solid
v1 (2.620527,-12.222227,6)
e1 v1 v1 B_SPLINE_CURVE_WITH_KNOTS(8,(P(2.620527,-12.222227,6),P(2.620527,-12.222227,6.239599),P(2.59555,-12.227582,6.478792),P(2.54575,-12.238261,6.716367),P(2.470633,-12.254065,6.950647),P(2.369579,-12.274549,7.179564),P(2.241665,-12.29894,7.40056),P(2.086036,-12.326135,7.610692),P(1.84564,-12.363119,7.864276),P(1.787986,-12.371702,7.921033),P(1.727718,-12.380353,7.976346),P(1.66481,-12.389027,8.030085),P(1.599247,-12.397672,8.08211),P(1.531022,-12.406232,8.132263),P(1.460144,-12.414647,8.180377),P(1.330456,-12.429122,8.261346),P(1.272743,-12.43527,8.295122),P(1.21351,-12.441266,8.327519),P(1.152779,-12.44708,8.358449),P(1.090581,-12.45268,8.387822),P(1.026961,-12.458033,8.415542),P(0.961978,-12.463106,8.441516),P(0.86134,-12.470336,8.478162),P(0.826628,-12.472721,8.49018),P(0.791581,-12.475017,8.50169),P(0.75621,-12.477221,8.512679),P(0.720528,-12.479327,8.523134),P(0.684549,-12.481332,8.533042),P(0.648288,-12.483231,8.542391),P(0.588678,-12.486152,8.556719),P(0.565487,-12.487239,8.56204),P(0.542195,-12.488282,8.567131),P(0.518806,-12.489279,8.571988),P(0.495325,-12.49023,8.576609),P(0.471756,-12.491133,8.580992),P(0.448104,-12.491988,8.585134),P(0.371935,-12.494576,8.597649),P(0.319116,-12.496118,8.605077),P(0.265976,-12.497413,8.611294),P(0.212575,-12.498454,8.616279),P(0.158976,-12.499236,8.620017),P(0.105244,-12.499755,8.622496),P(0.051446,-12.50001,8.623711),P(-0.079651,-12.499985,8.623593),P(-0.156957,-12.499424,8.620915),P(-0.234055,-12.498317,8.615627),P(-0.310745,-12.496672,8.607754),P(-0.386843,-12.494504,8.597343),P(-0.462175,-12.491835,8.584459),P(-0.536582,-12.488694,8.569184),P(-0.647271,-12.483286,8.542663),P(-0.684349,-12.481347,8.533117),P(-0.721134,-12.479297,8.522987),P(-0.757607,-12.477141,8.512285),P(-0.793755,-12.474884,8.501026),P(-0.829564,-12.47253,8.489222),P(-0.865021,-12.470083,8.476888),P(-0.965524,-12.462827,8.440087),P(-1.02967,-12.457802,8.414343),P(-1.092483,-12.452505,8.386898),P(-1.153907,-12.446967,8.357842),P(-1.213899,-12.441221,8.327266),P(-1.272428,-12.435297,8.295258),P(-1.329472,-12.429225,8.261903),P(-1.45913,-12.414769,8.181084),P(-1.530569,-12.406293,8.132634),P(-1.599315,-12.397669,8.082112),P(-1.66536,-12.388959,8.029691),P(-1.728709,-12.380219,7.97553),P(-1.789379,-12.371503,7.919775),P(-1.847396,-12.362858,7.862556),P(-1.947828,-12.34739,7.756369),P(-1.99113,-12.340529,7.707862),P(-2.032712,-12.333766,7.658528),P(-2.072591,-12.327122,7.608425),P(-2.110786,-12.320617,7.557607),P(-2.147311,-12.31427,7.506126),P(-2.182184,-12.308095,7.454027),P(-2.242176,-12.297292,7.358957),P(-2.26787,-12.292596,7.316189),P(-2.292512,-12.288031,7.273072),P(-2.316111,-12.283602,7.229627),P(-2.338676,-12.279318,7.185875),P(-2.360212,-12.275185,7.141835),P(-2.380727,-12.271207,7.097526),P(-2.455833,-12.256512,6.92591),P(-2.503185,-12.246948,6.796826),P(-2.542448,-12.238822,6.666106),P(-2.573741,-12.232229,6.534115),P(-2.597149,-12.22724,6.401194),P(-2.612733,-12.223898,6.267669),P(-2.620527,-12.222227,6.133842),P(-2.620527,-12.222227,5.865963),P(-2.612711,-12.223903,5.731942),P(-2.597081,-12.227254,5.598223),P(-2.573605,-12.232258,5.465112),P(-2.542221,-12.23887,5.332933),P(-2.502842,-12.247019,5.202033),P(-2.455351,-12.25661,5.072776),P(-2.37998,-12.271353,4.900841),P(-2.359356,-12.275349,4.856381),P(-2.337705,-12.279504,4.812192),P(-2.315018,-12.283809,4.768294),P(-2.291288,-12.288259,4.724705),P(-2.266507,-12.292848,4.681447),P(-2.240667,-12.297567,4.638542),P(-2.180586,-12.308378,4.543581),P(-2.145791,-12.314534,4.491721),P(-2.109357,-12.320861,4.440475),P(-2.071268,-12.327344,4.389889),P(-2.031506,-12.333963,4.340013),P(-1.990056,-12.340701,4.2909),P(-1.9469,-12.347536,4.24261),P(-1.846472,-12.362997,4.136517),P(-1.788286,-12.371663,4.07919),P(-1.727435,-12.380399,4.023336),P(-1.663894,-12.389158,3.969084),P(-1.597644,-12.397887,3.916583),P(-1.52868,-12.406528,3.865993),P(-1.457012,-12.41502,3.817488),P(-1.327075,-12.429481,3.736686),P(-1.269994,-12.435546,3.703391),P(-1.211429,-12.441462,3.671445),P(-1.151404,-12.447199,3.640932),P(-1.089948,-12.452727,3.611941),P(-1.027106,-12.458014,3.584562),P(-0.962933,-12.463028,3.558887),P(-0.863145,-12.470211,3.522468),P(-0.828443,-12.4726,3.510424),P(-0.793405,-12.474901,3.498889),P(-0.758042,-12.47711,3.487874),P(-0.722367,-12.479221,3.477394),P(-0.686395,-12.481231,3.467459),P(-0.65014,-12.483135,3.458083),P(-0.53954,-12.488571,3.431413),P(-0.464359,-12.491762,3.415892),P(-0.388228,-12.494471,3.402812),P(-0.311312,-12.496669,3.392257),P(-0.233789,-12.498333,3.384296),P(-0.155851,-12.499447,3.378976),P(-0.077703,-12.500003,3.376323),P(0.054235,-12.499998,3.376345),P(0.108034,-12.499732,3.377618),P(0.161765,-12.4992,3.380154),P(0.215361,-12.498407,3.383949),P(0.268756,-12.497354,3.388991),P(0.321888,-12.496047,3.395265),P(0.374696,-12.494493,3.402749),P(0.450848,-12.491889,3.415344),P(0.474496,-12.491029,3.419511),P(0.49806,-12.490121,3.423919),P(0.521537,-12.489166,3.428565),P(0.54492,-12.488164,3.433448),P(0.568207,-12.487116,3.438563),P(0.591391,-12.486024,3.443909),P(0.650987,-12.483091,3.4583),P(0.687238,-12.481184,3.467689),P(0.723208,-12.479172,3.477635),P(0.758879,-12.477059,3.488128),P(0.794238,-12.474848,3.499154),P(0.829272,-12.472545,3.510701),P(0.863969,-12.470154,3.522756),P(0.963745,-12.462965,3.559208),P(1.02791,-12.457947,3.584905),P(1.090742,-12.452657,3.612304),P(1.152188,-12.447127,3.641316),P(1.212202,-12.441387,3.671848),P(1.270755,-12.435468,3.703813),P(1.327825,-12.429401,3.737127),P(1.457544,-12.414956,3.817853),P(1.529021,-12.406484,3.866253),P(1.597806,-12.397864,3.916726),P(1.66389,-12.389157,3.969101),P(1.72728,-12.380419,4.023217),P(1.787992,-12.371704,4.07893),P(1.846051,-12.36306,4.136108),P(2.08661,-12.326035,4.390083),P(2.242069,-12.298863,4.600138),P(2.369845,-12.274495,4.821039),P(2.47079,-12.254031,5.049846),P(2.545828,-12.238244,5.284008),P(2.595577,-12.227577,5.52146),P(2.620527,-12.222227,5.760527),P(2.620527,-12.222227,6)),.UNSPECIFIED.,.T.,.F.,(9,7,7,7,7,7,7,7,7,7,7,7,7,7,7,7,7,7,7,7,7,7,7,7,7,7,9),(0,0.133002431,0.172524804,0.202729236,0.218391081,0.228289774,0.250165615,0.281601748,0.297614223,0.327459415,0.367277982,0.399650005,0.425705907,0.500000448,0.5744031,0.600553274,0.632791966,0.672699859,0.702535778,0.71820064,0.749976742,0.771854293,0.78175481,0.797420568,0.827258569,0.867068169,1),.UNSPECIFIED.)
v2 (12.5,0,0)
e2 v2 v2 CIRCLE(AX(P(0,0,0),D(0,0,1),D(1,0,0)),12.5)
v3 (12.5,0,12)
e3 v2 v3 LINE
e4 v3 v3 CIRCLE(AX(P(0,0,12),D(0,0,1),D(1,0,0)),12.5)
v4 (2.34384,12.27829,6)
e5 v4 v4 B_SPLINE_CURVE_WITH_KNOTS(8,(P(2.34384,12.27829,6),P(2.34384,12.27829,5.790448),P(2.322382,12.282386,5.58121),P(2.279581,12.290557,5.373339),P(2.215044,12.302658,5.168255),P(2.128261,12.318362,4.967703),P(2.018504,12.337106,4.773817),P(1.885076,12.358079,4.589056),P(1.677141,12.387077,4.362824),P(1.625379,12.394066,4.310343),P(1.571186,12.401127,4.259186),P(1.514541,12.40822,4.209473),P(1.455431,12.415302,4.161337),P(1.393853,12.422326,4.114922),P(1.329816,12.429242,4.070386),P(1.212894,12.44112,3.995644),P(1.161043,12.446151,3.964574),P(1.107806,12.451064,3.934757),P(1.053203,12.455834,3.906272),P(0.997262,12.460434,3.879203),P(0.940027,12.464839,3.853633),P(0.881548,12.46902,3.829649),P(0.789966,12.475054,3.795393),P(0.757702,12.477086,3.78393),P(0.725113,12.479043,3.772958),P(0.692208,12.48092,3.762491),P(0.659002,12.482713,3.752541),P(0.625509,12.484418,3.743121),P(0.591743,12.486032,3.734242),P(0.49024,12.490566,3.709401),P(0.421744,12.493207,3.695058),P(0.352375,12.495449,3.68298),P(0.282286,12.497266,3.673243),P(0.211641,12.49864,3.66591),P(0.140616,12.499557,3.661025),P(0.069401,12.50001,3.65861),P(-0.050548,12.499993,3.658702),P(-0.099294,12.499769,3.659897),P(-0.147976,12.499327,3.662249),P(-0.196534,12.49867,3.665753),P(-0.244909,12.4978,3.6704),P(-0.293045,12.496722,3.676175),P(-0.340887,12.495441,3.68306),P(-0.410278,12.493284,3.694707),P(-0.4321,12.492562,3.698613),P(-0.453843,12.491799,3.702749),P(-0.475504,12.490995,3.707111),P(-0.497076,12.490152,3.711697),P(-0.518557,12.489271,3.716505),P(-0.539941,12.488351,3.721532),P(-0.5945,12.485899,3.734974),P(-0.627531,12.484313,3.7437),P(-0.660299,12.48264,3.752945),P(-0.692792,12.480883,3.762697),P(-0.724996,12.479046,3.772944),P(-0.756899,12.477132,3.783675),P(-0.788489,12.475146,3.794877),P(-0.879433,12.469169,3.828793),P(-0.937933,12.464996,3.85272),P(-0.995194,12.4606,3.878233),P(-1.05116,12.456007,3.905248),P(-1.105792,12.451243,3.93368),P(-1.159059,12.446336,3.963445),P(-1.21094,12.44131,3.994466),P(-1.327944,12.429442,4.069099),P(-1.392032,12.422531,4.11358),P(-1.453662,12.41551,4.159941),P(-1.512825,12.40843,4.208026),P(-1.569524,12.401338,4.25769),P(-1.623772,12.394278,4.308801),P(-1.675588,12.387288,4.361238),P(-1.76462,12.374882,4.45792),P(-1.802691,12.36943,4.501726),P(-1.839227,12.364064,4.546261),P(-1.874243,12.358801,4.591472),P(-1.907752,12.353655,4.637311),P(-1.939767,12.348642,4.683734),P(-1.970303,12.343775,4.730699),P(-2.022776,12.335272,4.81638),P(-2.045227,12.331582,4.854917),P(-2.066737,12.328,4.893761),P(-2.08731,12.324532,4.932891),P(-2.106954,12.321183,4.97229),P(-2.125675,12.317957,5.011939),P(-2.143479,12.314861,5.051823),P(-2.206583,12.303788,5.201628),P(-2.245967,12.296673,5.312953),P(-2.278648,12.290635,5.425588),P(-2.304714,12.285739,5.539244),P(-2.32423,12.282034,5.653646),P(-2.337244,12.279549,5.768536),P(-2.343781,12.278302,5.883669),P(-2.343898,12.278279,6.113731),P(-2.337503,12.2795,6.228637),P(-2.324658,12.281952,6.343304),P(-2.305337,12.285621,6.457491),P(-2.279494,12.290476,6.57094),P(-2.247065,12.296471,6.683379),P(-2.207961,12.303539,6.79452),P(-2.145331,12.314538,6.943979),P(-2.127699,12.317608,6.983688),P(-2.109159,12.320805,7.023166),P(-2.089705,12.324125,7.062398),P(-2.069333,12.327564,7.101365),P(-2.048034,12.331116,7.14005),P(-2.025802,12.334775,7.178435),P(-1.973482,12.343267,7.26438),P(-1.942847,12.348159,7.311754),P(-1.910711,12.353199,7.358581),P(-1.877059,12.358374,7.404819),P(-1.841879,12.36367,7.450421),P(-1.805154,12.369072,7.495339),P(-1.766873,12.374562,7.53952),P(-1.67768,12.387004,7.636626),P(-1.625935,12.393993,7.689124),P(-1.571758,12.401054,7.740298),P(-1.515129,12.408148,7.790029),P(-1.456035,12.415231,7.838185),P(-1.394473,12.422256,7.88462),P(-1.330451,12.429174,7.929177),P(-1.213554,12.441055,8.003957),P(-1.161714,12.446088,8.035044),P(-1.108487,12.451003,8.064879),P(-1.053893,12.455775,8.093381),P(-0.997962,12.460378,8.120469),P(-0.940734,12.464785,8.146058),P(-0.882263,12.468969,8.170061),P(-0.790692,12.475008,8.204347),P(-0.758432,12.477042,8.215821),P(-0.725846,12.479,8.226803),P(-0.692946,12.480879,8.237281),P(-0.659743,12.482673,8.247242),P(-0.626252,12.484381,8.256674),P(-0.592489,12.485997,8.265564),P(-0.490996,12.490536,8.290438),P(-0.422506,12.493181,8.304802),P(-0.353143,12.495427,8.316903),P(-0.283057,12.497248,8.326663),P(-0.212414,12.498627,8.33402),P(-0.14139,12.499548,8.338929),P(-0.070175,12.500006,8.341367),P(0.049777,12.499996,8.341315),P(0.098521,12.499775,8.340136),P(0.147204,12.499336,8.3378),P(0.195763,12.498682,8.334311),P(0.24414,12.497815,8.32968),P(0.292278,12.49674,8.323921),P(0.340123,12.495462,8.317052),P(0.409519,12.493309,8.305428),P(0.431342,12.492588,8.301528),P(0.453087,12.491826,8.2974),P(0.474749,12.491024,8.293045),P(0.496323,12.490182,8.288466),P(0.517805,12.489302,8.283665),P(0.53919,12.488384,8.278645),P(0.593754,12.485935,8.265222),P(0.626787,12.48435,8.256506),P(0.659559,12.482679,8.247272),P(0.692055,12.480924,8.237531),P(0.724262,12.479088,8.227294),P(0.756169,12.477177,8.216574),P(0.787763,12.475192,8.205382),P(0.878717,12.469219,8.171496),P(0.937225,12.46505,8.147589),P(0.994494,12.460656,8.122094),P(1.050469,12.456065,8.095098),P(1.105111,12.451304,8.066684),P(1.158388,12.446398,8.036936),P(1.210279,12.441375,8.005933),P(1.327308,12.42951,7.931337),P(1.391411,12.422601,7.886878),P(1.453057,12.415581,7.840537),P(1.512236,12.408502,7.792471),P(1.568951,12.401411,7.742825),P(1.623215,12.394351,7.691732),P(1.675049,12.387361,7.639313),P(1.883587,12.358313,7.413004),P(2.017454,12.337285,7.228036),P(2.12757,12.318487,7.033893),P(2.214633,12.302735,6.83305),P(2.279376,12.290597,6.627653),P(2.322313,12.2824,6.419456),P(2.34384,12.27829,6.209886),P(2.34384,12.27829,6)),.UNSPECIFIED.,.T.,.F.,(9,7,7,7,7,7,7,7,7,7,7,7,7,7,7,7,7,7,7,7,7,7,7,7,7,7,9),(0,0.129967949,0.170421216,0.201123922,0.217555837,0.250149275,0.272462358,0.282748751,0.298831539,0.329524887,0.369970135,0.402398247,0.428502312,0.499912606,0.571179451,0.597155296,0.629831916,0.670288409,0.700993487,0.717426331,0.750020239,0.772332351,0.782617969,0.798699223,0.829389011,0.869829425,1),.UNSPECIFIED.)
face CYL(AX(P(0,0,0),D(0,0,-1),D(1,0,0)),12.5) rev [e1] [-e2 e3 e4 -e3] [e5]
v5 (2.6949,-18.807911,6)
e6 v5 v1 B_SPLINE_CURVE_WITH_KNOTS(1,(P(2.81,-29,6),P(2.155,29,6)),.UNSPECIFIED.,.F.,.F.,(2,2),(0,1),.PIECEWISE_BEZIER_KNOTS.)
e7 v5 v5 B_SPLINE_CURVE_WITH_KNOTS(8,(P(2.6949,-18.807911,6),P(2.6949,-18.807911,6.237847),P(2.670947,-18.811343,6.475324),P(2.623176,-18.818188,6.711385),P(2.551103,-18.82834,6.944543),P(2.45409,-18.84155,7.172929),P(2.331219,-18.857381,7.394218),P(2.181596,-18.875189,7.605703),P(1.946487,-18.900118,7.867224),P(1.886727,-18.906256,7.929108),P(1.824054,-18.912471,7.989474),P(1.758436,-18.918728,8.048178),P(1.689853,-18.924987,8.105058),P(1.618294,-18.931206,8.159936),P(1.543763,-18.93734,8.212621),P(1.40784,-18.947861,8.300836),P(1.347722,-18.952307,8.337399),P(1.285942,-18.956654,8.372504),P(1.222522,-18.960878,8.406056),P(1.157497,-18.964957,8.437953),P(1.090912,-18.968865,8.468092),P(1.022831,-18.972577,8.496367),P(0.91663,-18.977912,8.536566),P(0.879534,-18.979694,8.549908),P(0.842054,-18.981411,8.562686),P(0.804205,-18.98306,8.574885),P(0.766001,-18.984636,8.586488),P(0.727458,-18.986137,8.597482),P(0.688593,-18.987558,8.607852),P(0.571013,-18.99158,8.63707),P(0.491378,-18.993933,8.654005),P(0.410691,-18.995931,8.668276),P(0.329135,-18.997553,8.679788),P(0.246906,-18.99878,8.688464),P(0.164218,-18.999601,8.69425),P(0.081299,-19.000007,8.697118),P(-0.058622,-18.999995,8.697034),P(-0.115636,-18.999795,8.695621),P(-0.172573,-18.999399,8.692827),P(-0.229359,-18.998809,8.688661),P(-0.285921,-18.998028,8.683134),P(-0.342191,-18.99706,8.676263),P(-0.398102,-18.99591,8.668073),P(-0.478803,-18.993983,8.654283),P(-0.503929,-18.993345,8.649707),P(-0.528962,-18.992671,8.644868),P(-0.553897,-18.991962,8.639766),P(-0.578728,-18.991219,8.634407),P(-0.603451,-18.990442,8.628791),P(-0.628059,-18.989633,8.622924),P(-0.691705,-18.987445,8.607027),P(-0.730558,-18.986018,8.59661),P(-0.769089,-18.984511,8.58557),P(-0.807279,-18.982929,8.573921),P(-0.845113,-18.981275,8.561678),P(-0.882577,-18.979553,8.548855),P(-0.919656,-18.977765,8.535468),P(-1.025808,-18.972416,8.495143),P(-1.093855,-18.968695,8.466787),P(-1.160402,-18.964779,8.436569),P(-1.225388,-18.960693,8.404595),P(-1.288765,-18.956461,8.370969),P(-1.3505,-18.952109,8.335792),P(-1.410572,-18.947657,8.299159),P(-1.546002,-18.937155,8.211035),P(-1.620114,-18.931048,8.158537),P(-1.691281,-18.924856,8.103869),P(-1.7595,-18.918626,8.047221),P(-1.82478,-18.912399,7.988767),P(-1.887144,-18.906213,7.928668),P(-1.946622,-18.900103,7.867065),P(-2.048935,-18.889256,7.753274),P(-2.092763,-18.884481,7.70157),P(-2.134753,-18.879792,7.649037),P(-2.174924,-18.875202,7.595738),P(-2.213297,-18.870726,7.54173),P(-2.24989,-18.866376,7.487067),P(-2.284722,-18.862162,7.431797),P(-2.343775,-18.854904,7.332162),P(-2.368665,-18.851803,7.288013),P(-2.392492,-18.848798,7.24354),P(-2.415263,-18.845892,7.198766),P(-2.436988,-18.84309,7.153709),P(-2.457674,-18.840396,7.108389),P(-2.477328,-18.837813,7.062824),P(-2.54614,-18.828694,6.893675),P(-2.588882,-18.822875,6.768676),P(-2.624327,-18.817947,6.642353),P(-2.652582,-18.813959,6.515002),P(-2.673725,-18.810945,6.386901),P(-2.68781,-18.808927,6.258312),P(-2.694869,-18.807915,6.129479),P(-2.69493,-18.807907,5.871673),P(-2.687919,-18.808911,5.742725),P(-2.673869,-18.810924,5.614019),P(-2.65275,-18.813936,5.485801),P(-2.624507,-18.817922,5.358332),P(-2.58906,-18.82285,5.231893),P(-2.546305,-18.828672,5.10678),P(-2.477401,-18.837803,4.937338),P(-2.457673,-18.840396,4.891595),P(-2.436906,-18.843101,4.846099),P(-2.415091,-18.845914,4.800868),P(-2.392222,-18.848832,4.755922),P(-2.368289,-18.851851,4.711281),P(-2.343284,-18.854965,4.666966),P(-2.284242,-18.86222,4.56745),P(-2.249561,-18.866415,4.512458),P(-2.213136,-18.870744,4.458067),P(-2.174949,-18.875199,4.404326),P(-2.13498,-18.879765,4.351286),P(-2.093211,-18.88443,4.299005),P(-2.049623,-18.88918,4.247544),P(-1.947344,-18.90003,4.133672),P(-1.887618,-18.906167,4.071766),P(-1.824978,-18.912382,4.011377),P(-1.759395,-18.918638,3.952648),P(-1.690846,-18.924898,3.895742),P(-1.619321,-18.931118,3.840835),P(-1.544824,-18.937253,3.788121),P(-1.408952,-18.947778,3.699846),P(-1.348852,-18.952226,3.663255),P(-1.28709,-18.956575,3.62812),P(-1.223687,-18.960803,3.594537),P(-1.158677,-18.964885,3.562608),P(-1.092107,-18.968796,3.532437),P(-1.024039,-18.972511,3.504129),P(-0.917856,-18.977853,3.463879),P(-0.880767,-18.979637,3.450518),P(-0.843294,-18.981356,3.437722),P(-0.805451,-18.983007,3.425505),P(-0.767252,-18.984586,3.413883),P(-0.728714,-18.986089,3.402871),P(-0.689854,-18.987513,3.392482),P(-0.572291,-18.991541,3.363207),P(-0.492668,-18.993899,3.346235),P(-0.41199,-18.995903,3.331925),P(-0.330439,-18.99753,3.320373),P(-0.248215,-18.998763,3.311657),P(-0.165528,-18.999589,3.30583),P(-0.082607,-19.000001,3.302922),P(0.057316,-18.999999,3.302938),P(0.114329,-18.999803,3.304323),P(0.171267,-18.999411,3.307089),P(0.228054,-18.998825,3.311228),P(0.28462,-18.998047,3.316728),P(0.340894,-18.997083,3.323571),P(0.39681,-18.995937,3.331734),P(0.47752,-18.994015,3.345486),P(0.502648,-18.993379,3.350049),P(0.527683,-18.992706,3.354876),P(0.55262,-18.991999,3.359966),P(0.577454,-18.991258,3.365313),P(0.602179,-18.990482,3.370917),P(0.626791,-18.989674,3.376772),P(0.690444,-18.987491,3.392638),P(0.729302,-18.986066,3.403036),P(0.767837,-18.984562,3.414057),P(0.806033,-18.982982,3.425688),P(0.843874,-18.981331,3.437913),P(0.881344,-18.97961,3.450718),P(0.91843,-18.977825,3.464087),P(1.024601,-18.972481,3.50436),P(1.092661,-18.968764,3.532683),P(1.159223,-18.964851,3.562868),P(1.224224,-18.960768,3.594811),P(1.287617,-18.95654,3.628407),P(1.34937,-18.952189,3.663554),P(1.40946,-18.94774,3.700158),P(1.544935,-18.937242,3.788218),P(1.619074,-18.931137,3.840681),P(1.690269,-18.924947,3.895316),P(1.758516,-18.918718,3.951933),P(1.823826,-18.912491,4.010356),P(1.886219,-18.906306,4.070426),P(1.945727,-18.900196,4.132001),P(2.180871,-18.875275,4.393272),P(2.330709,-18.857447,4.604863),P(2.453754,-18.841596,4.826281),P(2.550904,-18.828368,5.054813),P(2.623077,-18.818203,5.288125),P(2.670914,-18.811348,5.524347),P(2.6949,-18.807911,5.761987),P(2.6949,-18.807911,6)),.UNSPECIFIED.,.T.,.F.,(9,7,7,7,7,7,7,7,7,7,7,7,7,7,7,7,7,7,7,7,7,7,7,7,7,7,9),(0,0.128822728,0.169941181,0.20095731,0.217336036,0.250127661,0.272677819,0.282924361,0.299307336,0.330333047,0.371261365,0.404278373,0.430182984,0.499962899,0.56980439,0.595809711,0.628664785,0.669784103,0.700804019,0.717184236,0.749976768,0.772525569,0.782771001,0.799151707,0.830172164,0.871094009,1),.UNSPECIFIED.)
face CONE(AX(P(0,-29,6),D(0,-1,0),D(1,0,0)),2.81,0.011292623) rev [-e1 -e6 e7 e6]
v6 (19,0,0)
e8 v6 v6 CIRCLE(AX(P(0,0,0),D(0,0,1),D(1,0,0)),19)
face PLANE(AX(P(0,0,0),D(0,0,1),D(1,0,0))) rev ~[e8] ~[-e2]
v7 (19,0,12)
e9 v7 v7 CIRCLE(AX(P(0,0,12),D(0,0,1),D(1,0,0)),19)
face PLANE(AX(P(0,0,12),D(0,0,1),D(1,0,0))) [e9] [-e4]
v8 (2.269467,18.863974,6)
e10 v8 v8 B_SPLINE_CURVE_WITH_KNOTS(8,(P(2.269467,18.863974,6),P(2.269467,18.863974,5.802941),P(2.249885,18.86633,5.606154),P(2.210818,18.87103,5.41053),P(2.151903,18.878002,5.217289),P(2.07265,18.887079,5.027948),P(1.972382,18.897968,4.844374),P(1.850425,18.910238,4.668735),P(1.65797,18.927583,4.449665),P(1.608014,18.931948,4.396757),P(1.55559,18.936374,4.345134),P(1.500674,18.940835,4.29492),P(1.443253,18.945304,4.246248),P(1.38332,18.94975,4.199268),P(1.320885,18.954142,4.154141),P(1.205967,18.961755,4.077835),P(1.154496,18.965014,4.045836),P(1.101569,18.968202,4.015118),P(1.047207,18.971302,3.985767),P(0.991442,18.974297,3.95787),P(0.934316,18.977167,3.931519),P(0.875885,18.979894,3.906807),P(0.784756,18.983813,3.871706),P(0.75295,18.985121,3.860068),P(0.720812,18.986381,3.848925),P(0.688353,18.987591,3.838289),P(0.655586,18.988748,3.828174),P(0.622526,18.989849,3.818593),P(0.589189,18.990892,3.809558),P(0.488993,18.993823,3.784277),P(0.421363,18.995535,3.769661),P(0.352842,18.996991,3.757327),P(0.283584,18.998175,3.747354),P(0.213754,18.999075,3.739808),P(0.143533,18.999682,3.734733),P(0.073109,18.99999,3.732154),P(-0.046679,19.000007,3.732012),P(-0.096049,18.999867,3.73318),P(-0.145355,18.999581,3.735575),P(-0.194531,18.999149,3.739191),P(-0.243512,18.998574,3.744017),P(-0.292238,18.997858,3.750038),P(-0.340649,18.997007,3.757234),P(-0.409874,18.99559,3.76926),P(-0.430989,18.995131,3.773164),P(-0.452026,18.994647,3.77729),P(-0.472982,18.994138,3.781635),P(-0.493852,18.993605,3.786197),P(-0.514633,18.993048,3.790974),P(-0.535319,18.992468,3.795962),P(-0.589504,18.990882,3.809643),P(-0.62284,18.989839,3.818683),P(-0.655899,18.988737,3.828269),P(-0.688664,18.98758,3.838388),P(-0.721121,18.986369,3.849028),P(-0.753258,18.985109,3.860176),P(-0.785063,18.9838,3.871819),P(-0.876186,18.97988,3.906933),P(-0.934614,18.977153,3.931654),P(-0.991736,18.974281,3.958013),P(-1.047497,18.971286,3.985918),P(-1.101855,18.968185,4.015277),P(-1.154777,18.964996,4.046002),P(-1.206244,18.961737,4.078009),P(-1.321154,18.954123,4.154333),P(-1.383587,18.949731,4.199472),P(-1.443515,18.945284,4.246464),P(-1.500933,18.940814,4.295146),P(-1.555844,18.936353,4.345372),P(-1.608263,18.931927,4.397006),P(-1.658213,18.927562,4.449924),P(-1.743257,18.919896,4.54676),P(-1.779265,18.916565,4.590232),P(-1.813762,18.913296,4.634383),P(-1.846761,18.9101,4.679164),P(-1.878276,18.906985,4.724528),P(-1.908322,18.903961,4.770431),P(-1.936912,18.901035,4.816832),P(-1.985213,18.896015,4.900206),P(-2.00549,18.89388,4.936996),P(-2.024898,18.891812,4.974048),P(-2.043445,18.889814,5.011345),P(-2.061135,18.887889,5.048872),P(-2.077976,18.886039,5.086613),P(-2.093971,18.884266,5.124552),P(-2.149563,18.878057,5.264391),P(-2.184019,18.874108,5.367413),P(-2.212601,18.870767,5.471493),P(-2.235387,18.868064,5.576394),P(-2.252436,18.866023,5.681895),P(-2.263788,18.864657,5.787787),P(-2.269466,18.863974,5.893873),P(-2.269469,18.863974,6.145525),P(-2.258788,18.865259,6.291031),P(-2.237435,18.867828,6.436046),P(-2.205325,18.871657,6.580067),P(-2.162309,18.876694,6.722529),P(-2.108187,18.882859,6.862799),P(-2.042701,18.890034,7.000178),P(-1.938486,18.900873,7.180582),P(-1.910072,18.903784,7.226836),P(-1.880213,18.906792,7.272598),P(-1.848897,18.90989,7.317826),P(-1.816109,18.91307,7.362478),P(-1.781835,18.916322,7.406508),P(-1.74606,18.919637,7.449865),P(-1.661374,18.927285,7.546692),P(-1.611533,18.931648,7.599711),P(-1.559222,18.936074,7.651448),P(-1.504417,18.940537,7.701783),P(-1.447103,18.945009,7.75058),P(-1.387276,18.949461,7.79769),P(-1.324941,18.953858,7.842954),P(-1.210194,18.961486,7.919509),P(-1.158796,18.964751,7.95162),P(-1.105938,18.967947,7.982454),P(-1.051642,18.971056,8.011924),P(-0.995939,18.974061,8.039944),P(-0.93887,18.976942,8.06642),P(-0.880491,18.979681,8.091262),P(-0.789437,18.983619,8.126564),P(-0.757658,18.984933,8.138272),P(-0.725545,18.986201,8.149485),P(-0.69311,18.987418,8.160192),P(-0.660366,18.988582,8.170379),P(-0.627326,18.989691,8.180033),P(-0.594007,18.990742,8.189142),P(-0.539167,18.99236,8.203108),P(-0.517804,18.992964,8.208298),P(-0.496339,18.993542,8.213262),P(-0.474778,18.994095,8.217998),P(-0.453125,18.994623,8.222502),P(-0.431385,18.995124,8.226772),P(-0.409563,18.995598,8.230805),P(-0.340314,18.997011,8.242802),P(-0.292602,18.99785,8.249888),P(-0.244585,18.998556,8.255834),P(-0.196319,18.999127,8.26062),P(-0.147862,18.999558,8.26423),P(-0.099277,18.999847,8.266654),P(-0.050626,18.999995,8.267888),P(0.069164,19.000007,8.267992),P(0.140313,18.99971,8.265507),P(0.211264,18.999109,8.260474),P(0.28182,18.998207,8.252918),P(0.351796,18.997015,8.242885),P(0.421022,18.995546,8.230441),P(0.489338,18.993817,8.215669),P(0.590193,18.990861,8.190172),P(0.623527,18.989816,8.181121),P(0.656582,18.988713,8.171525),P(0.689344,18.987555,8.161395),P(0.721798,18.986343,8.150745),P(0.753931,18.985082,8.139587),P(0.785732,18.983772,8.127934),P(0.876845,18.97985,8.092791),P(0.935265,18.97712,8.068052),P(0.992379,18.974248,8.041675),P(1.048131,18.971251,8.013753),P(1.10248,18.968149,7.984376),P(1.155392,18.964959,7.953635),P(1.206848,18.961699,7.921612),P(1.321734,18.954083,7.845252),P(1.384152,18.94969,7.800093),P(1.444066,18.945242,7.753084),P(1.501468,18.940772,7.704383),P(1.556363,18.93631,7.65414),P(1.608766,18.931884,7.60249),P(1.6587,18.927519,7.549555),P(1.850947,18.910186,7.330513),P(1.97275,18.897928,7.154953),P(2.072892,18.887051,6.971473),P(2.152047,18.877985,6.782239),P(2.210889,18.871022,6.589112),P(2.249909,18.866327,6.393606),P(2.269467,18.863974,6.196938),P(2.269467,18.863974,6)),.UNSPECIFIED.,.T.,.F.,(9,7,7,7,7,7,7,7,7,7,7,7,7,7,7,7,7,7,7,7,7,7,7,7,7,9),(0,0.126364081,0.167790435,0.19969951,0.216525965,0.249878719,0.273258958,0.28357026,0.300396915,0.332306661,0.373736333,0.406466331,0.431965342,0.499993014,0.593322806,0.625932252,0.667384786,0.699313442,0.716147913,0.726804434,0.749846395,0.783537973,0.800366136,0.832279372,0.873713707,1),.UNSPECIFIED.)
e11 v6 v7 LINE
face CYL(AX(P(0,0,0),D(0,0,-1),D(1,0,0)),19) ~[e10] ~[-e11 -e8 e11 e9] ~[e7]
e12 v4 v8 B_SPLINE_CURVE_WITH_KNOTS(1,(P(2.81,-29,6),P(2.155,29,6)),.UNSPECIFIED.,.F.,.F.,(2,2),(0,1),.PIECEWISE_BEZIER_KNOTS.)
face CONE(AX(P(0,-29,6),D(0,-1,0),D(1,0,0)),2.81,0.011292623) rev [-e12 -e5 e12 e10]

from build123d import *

# Parameters (mm, degrees)
F0_R     = 19
F0_R_2   = 12.5
F1_DEPTH = 12
F3_R     = 2.81
F5_R     = 2.155


with BuildPart() as f1:
    # F0 (on Top) → F1 (new body)
    with BuildSketch(Plane.XY):
        Circle(F0_R)
        Circle(F0_R_2, mode=Mode.SUBTRACT)
    extrude(amount=F1_DEPTH)

    # F3 (on offset) → F6 section 0
    with BuildSketch(Plane.XZ.offset(29)):
        with Locations((0, 6)):
            Circle(F3_R)
    # F5 (on offset) → F6 section 1
    with BuildSketch(Plane.XZ.offset(-29)):
        with Locations((0, 6)):
            Circle(F5_R)
    loft(mode=Mode.SUBTRACT)


solid = f1.part
